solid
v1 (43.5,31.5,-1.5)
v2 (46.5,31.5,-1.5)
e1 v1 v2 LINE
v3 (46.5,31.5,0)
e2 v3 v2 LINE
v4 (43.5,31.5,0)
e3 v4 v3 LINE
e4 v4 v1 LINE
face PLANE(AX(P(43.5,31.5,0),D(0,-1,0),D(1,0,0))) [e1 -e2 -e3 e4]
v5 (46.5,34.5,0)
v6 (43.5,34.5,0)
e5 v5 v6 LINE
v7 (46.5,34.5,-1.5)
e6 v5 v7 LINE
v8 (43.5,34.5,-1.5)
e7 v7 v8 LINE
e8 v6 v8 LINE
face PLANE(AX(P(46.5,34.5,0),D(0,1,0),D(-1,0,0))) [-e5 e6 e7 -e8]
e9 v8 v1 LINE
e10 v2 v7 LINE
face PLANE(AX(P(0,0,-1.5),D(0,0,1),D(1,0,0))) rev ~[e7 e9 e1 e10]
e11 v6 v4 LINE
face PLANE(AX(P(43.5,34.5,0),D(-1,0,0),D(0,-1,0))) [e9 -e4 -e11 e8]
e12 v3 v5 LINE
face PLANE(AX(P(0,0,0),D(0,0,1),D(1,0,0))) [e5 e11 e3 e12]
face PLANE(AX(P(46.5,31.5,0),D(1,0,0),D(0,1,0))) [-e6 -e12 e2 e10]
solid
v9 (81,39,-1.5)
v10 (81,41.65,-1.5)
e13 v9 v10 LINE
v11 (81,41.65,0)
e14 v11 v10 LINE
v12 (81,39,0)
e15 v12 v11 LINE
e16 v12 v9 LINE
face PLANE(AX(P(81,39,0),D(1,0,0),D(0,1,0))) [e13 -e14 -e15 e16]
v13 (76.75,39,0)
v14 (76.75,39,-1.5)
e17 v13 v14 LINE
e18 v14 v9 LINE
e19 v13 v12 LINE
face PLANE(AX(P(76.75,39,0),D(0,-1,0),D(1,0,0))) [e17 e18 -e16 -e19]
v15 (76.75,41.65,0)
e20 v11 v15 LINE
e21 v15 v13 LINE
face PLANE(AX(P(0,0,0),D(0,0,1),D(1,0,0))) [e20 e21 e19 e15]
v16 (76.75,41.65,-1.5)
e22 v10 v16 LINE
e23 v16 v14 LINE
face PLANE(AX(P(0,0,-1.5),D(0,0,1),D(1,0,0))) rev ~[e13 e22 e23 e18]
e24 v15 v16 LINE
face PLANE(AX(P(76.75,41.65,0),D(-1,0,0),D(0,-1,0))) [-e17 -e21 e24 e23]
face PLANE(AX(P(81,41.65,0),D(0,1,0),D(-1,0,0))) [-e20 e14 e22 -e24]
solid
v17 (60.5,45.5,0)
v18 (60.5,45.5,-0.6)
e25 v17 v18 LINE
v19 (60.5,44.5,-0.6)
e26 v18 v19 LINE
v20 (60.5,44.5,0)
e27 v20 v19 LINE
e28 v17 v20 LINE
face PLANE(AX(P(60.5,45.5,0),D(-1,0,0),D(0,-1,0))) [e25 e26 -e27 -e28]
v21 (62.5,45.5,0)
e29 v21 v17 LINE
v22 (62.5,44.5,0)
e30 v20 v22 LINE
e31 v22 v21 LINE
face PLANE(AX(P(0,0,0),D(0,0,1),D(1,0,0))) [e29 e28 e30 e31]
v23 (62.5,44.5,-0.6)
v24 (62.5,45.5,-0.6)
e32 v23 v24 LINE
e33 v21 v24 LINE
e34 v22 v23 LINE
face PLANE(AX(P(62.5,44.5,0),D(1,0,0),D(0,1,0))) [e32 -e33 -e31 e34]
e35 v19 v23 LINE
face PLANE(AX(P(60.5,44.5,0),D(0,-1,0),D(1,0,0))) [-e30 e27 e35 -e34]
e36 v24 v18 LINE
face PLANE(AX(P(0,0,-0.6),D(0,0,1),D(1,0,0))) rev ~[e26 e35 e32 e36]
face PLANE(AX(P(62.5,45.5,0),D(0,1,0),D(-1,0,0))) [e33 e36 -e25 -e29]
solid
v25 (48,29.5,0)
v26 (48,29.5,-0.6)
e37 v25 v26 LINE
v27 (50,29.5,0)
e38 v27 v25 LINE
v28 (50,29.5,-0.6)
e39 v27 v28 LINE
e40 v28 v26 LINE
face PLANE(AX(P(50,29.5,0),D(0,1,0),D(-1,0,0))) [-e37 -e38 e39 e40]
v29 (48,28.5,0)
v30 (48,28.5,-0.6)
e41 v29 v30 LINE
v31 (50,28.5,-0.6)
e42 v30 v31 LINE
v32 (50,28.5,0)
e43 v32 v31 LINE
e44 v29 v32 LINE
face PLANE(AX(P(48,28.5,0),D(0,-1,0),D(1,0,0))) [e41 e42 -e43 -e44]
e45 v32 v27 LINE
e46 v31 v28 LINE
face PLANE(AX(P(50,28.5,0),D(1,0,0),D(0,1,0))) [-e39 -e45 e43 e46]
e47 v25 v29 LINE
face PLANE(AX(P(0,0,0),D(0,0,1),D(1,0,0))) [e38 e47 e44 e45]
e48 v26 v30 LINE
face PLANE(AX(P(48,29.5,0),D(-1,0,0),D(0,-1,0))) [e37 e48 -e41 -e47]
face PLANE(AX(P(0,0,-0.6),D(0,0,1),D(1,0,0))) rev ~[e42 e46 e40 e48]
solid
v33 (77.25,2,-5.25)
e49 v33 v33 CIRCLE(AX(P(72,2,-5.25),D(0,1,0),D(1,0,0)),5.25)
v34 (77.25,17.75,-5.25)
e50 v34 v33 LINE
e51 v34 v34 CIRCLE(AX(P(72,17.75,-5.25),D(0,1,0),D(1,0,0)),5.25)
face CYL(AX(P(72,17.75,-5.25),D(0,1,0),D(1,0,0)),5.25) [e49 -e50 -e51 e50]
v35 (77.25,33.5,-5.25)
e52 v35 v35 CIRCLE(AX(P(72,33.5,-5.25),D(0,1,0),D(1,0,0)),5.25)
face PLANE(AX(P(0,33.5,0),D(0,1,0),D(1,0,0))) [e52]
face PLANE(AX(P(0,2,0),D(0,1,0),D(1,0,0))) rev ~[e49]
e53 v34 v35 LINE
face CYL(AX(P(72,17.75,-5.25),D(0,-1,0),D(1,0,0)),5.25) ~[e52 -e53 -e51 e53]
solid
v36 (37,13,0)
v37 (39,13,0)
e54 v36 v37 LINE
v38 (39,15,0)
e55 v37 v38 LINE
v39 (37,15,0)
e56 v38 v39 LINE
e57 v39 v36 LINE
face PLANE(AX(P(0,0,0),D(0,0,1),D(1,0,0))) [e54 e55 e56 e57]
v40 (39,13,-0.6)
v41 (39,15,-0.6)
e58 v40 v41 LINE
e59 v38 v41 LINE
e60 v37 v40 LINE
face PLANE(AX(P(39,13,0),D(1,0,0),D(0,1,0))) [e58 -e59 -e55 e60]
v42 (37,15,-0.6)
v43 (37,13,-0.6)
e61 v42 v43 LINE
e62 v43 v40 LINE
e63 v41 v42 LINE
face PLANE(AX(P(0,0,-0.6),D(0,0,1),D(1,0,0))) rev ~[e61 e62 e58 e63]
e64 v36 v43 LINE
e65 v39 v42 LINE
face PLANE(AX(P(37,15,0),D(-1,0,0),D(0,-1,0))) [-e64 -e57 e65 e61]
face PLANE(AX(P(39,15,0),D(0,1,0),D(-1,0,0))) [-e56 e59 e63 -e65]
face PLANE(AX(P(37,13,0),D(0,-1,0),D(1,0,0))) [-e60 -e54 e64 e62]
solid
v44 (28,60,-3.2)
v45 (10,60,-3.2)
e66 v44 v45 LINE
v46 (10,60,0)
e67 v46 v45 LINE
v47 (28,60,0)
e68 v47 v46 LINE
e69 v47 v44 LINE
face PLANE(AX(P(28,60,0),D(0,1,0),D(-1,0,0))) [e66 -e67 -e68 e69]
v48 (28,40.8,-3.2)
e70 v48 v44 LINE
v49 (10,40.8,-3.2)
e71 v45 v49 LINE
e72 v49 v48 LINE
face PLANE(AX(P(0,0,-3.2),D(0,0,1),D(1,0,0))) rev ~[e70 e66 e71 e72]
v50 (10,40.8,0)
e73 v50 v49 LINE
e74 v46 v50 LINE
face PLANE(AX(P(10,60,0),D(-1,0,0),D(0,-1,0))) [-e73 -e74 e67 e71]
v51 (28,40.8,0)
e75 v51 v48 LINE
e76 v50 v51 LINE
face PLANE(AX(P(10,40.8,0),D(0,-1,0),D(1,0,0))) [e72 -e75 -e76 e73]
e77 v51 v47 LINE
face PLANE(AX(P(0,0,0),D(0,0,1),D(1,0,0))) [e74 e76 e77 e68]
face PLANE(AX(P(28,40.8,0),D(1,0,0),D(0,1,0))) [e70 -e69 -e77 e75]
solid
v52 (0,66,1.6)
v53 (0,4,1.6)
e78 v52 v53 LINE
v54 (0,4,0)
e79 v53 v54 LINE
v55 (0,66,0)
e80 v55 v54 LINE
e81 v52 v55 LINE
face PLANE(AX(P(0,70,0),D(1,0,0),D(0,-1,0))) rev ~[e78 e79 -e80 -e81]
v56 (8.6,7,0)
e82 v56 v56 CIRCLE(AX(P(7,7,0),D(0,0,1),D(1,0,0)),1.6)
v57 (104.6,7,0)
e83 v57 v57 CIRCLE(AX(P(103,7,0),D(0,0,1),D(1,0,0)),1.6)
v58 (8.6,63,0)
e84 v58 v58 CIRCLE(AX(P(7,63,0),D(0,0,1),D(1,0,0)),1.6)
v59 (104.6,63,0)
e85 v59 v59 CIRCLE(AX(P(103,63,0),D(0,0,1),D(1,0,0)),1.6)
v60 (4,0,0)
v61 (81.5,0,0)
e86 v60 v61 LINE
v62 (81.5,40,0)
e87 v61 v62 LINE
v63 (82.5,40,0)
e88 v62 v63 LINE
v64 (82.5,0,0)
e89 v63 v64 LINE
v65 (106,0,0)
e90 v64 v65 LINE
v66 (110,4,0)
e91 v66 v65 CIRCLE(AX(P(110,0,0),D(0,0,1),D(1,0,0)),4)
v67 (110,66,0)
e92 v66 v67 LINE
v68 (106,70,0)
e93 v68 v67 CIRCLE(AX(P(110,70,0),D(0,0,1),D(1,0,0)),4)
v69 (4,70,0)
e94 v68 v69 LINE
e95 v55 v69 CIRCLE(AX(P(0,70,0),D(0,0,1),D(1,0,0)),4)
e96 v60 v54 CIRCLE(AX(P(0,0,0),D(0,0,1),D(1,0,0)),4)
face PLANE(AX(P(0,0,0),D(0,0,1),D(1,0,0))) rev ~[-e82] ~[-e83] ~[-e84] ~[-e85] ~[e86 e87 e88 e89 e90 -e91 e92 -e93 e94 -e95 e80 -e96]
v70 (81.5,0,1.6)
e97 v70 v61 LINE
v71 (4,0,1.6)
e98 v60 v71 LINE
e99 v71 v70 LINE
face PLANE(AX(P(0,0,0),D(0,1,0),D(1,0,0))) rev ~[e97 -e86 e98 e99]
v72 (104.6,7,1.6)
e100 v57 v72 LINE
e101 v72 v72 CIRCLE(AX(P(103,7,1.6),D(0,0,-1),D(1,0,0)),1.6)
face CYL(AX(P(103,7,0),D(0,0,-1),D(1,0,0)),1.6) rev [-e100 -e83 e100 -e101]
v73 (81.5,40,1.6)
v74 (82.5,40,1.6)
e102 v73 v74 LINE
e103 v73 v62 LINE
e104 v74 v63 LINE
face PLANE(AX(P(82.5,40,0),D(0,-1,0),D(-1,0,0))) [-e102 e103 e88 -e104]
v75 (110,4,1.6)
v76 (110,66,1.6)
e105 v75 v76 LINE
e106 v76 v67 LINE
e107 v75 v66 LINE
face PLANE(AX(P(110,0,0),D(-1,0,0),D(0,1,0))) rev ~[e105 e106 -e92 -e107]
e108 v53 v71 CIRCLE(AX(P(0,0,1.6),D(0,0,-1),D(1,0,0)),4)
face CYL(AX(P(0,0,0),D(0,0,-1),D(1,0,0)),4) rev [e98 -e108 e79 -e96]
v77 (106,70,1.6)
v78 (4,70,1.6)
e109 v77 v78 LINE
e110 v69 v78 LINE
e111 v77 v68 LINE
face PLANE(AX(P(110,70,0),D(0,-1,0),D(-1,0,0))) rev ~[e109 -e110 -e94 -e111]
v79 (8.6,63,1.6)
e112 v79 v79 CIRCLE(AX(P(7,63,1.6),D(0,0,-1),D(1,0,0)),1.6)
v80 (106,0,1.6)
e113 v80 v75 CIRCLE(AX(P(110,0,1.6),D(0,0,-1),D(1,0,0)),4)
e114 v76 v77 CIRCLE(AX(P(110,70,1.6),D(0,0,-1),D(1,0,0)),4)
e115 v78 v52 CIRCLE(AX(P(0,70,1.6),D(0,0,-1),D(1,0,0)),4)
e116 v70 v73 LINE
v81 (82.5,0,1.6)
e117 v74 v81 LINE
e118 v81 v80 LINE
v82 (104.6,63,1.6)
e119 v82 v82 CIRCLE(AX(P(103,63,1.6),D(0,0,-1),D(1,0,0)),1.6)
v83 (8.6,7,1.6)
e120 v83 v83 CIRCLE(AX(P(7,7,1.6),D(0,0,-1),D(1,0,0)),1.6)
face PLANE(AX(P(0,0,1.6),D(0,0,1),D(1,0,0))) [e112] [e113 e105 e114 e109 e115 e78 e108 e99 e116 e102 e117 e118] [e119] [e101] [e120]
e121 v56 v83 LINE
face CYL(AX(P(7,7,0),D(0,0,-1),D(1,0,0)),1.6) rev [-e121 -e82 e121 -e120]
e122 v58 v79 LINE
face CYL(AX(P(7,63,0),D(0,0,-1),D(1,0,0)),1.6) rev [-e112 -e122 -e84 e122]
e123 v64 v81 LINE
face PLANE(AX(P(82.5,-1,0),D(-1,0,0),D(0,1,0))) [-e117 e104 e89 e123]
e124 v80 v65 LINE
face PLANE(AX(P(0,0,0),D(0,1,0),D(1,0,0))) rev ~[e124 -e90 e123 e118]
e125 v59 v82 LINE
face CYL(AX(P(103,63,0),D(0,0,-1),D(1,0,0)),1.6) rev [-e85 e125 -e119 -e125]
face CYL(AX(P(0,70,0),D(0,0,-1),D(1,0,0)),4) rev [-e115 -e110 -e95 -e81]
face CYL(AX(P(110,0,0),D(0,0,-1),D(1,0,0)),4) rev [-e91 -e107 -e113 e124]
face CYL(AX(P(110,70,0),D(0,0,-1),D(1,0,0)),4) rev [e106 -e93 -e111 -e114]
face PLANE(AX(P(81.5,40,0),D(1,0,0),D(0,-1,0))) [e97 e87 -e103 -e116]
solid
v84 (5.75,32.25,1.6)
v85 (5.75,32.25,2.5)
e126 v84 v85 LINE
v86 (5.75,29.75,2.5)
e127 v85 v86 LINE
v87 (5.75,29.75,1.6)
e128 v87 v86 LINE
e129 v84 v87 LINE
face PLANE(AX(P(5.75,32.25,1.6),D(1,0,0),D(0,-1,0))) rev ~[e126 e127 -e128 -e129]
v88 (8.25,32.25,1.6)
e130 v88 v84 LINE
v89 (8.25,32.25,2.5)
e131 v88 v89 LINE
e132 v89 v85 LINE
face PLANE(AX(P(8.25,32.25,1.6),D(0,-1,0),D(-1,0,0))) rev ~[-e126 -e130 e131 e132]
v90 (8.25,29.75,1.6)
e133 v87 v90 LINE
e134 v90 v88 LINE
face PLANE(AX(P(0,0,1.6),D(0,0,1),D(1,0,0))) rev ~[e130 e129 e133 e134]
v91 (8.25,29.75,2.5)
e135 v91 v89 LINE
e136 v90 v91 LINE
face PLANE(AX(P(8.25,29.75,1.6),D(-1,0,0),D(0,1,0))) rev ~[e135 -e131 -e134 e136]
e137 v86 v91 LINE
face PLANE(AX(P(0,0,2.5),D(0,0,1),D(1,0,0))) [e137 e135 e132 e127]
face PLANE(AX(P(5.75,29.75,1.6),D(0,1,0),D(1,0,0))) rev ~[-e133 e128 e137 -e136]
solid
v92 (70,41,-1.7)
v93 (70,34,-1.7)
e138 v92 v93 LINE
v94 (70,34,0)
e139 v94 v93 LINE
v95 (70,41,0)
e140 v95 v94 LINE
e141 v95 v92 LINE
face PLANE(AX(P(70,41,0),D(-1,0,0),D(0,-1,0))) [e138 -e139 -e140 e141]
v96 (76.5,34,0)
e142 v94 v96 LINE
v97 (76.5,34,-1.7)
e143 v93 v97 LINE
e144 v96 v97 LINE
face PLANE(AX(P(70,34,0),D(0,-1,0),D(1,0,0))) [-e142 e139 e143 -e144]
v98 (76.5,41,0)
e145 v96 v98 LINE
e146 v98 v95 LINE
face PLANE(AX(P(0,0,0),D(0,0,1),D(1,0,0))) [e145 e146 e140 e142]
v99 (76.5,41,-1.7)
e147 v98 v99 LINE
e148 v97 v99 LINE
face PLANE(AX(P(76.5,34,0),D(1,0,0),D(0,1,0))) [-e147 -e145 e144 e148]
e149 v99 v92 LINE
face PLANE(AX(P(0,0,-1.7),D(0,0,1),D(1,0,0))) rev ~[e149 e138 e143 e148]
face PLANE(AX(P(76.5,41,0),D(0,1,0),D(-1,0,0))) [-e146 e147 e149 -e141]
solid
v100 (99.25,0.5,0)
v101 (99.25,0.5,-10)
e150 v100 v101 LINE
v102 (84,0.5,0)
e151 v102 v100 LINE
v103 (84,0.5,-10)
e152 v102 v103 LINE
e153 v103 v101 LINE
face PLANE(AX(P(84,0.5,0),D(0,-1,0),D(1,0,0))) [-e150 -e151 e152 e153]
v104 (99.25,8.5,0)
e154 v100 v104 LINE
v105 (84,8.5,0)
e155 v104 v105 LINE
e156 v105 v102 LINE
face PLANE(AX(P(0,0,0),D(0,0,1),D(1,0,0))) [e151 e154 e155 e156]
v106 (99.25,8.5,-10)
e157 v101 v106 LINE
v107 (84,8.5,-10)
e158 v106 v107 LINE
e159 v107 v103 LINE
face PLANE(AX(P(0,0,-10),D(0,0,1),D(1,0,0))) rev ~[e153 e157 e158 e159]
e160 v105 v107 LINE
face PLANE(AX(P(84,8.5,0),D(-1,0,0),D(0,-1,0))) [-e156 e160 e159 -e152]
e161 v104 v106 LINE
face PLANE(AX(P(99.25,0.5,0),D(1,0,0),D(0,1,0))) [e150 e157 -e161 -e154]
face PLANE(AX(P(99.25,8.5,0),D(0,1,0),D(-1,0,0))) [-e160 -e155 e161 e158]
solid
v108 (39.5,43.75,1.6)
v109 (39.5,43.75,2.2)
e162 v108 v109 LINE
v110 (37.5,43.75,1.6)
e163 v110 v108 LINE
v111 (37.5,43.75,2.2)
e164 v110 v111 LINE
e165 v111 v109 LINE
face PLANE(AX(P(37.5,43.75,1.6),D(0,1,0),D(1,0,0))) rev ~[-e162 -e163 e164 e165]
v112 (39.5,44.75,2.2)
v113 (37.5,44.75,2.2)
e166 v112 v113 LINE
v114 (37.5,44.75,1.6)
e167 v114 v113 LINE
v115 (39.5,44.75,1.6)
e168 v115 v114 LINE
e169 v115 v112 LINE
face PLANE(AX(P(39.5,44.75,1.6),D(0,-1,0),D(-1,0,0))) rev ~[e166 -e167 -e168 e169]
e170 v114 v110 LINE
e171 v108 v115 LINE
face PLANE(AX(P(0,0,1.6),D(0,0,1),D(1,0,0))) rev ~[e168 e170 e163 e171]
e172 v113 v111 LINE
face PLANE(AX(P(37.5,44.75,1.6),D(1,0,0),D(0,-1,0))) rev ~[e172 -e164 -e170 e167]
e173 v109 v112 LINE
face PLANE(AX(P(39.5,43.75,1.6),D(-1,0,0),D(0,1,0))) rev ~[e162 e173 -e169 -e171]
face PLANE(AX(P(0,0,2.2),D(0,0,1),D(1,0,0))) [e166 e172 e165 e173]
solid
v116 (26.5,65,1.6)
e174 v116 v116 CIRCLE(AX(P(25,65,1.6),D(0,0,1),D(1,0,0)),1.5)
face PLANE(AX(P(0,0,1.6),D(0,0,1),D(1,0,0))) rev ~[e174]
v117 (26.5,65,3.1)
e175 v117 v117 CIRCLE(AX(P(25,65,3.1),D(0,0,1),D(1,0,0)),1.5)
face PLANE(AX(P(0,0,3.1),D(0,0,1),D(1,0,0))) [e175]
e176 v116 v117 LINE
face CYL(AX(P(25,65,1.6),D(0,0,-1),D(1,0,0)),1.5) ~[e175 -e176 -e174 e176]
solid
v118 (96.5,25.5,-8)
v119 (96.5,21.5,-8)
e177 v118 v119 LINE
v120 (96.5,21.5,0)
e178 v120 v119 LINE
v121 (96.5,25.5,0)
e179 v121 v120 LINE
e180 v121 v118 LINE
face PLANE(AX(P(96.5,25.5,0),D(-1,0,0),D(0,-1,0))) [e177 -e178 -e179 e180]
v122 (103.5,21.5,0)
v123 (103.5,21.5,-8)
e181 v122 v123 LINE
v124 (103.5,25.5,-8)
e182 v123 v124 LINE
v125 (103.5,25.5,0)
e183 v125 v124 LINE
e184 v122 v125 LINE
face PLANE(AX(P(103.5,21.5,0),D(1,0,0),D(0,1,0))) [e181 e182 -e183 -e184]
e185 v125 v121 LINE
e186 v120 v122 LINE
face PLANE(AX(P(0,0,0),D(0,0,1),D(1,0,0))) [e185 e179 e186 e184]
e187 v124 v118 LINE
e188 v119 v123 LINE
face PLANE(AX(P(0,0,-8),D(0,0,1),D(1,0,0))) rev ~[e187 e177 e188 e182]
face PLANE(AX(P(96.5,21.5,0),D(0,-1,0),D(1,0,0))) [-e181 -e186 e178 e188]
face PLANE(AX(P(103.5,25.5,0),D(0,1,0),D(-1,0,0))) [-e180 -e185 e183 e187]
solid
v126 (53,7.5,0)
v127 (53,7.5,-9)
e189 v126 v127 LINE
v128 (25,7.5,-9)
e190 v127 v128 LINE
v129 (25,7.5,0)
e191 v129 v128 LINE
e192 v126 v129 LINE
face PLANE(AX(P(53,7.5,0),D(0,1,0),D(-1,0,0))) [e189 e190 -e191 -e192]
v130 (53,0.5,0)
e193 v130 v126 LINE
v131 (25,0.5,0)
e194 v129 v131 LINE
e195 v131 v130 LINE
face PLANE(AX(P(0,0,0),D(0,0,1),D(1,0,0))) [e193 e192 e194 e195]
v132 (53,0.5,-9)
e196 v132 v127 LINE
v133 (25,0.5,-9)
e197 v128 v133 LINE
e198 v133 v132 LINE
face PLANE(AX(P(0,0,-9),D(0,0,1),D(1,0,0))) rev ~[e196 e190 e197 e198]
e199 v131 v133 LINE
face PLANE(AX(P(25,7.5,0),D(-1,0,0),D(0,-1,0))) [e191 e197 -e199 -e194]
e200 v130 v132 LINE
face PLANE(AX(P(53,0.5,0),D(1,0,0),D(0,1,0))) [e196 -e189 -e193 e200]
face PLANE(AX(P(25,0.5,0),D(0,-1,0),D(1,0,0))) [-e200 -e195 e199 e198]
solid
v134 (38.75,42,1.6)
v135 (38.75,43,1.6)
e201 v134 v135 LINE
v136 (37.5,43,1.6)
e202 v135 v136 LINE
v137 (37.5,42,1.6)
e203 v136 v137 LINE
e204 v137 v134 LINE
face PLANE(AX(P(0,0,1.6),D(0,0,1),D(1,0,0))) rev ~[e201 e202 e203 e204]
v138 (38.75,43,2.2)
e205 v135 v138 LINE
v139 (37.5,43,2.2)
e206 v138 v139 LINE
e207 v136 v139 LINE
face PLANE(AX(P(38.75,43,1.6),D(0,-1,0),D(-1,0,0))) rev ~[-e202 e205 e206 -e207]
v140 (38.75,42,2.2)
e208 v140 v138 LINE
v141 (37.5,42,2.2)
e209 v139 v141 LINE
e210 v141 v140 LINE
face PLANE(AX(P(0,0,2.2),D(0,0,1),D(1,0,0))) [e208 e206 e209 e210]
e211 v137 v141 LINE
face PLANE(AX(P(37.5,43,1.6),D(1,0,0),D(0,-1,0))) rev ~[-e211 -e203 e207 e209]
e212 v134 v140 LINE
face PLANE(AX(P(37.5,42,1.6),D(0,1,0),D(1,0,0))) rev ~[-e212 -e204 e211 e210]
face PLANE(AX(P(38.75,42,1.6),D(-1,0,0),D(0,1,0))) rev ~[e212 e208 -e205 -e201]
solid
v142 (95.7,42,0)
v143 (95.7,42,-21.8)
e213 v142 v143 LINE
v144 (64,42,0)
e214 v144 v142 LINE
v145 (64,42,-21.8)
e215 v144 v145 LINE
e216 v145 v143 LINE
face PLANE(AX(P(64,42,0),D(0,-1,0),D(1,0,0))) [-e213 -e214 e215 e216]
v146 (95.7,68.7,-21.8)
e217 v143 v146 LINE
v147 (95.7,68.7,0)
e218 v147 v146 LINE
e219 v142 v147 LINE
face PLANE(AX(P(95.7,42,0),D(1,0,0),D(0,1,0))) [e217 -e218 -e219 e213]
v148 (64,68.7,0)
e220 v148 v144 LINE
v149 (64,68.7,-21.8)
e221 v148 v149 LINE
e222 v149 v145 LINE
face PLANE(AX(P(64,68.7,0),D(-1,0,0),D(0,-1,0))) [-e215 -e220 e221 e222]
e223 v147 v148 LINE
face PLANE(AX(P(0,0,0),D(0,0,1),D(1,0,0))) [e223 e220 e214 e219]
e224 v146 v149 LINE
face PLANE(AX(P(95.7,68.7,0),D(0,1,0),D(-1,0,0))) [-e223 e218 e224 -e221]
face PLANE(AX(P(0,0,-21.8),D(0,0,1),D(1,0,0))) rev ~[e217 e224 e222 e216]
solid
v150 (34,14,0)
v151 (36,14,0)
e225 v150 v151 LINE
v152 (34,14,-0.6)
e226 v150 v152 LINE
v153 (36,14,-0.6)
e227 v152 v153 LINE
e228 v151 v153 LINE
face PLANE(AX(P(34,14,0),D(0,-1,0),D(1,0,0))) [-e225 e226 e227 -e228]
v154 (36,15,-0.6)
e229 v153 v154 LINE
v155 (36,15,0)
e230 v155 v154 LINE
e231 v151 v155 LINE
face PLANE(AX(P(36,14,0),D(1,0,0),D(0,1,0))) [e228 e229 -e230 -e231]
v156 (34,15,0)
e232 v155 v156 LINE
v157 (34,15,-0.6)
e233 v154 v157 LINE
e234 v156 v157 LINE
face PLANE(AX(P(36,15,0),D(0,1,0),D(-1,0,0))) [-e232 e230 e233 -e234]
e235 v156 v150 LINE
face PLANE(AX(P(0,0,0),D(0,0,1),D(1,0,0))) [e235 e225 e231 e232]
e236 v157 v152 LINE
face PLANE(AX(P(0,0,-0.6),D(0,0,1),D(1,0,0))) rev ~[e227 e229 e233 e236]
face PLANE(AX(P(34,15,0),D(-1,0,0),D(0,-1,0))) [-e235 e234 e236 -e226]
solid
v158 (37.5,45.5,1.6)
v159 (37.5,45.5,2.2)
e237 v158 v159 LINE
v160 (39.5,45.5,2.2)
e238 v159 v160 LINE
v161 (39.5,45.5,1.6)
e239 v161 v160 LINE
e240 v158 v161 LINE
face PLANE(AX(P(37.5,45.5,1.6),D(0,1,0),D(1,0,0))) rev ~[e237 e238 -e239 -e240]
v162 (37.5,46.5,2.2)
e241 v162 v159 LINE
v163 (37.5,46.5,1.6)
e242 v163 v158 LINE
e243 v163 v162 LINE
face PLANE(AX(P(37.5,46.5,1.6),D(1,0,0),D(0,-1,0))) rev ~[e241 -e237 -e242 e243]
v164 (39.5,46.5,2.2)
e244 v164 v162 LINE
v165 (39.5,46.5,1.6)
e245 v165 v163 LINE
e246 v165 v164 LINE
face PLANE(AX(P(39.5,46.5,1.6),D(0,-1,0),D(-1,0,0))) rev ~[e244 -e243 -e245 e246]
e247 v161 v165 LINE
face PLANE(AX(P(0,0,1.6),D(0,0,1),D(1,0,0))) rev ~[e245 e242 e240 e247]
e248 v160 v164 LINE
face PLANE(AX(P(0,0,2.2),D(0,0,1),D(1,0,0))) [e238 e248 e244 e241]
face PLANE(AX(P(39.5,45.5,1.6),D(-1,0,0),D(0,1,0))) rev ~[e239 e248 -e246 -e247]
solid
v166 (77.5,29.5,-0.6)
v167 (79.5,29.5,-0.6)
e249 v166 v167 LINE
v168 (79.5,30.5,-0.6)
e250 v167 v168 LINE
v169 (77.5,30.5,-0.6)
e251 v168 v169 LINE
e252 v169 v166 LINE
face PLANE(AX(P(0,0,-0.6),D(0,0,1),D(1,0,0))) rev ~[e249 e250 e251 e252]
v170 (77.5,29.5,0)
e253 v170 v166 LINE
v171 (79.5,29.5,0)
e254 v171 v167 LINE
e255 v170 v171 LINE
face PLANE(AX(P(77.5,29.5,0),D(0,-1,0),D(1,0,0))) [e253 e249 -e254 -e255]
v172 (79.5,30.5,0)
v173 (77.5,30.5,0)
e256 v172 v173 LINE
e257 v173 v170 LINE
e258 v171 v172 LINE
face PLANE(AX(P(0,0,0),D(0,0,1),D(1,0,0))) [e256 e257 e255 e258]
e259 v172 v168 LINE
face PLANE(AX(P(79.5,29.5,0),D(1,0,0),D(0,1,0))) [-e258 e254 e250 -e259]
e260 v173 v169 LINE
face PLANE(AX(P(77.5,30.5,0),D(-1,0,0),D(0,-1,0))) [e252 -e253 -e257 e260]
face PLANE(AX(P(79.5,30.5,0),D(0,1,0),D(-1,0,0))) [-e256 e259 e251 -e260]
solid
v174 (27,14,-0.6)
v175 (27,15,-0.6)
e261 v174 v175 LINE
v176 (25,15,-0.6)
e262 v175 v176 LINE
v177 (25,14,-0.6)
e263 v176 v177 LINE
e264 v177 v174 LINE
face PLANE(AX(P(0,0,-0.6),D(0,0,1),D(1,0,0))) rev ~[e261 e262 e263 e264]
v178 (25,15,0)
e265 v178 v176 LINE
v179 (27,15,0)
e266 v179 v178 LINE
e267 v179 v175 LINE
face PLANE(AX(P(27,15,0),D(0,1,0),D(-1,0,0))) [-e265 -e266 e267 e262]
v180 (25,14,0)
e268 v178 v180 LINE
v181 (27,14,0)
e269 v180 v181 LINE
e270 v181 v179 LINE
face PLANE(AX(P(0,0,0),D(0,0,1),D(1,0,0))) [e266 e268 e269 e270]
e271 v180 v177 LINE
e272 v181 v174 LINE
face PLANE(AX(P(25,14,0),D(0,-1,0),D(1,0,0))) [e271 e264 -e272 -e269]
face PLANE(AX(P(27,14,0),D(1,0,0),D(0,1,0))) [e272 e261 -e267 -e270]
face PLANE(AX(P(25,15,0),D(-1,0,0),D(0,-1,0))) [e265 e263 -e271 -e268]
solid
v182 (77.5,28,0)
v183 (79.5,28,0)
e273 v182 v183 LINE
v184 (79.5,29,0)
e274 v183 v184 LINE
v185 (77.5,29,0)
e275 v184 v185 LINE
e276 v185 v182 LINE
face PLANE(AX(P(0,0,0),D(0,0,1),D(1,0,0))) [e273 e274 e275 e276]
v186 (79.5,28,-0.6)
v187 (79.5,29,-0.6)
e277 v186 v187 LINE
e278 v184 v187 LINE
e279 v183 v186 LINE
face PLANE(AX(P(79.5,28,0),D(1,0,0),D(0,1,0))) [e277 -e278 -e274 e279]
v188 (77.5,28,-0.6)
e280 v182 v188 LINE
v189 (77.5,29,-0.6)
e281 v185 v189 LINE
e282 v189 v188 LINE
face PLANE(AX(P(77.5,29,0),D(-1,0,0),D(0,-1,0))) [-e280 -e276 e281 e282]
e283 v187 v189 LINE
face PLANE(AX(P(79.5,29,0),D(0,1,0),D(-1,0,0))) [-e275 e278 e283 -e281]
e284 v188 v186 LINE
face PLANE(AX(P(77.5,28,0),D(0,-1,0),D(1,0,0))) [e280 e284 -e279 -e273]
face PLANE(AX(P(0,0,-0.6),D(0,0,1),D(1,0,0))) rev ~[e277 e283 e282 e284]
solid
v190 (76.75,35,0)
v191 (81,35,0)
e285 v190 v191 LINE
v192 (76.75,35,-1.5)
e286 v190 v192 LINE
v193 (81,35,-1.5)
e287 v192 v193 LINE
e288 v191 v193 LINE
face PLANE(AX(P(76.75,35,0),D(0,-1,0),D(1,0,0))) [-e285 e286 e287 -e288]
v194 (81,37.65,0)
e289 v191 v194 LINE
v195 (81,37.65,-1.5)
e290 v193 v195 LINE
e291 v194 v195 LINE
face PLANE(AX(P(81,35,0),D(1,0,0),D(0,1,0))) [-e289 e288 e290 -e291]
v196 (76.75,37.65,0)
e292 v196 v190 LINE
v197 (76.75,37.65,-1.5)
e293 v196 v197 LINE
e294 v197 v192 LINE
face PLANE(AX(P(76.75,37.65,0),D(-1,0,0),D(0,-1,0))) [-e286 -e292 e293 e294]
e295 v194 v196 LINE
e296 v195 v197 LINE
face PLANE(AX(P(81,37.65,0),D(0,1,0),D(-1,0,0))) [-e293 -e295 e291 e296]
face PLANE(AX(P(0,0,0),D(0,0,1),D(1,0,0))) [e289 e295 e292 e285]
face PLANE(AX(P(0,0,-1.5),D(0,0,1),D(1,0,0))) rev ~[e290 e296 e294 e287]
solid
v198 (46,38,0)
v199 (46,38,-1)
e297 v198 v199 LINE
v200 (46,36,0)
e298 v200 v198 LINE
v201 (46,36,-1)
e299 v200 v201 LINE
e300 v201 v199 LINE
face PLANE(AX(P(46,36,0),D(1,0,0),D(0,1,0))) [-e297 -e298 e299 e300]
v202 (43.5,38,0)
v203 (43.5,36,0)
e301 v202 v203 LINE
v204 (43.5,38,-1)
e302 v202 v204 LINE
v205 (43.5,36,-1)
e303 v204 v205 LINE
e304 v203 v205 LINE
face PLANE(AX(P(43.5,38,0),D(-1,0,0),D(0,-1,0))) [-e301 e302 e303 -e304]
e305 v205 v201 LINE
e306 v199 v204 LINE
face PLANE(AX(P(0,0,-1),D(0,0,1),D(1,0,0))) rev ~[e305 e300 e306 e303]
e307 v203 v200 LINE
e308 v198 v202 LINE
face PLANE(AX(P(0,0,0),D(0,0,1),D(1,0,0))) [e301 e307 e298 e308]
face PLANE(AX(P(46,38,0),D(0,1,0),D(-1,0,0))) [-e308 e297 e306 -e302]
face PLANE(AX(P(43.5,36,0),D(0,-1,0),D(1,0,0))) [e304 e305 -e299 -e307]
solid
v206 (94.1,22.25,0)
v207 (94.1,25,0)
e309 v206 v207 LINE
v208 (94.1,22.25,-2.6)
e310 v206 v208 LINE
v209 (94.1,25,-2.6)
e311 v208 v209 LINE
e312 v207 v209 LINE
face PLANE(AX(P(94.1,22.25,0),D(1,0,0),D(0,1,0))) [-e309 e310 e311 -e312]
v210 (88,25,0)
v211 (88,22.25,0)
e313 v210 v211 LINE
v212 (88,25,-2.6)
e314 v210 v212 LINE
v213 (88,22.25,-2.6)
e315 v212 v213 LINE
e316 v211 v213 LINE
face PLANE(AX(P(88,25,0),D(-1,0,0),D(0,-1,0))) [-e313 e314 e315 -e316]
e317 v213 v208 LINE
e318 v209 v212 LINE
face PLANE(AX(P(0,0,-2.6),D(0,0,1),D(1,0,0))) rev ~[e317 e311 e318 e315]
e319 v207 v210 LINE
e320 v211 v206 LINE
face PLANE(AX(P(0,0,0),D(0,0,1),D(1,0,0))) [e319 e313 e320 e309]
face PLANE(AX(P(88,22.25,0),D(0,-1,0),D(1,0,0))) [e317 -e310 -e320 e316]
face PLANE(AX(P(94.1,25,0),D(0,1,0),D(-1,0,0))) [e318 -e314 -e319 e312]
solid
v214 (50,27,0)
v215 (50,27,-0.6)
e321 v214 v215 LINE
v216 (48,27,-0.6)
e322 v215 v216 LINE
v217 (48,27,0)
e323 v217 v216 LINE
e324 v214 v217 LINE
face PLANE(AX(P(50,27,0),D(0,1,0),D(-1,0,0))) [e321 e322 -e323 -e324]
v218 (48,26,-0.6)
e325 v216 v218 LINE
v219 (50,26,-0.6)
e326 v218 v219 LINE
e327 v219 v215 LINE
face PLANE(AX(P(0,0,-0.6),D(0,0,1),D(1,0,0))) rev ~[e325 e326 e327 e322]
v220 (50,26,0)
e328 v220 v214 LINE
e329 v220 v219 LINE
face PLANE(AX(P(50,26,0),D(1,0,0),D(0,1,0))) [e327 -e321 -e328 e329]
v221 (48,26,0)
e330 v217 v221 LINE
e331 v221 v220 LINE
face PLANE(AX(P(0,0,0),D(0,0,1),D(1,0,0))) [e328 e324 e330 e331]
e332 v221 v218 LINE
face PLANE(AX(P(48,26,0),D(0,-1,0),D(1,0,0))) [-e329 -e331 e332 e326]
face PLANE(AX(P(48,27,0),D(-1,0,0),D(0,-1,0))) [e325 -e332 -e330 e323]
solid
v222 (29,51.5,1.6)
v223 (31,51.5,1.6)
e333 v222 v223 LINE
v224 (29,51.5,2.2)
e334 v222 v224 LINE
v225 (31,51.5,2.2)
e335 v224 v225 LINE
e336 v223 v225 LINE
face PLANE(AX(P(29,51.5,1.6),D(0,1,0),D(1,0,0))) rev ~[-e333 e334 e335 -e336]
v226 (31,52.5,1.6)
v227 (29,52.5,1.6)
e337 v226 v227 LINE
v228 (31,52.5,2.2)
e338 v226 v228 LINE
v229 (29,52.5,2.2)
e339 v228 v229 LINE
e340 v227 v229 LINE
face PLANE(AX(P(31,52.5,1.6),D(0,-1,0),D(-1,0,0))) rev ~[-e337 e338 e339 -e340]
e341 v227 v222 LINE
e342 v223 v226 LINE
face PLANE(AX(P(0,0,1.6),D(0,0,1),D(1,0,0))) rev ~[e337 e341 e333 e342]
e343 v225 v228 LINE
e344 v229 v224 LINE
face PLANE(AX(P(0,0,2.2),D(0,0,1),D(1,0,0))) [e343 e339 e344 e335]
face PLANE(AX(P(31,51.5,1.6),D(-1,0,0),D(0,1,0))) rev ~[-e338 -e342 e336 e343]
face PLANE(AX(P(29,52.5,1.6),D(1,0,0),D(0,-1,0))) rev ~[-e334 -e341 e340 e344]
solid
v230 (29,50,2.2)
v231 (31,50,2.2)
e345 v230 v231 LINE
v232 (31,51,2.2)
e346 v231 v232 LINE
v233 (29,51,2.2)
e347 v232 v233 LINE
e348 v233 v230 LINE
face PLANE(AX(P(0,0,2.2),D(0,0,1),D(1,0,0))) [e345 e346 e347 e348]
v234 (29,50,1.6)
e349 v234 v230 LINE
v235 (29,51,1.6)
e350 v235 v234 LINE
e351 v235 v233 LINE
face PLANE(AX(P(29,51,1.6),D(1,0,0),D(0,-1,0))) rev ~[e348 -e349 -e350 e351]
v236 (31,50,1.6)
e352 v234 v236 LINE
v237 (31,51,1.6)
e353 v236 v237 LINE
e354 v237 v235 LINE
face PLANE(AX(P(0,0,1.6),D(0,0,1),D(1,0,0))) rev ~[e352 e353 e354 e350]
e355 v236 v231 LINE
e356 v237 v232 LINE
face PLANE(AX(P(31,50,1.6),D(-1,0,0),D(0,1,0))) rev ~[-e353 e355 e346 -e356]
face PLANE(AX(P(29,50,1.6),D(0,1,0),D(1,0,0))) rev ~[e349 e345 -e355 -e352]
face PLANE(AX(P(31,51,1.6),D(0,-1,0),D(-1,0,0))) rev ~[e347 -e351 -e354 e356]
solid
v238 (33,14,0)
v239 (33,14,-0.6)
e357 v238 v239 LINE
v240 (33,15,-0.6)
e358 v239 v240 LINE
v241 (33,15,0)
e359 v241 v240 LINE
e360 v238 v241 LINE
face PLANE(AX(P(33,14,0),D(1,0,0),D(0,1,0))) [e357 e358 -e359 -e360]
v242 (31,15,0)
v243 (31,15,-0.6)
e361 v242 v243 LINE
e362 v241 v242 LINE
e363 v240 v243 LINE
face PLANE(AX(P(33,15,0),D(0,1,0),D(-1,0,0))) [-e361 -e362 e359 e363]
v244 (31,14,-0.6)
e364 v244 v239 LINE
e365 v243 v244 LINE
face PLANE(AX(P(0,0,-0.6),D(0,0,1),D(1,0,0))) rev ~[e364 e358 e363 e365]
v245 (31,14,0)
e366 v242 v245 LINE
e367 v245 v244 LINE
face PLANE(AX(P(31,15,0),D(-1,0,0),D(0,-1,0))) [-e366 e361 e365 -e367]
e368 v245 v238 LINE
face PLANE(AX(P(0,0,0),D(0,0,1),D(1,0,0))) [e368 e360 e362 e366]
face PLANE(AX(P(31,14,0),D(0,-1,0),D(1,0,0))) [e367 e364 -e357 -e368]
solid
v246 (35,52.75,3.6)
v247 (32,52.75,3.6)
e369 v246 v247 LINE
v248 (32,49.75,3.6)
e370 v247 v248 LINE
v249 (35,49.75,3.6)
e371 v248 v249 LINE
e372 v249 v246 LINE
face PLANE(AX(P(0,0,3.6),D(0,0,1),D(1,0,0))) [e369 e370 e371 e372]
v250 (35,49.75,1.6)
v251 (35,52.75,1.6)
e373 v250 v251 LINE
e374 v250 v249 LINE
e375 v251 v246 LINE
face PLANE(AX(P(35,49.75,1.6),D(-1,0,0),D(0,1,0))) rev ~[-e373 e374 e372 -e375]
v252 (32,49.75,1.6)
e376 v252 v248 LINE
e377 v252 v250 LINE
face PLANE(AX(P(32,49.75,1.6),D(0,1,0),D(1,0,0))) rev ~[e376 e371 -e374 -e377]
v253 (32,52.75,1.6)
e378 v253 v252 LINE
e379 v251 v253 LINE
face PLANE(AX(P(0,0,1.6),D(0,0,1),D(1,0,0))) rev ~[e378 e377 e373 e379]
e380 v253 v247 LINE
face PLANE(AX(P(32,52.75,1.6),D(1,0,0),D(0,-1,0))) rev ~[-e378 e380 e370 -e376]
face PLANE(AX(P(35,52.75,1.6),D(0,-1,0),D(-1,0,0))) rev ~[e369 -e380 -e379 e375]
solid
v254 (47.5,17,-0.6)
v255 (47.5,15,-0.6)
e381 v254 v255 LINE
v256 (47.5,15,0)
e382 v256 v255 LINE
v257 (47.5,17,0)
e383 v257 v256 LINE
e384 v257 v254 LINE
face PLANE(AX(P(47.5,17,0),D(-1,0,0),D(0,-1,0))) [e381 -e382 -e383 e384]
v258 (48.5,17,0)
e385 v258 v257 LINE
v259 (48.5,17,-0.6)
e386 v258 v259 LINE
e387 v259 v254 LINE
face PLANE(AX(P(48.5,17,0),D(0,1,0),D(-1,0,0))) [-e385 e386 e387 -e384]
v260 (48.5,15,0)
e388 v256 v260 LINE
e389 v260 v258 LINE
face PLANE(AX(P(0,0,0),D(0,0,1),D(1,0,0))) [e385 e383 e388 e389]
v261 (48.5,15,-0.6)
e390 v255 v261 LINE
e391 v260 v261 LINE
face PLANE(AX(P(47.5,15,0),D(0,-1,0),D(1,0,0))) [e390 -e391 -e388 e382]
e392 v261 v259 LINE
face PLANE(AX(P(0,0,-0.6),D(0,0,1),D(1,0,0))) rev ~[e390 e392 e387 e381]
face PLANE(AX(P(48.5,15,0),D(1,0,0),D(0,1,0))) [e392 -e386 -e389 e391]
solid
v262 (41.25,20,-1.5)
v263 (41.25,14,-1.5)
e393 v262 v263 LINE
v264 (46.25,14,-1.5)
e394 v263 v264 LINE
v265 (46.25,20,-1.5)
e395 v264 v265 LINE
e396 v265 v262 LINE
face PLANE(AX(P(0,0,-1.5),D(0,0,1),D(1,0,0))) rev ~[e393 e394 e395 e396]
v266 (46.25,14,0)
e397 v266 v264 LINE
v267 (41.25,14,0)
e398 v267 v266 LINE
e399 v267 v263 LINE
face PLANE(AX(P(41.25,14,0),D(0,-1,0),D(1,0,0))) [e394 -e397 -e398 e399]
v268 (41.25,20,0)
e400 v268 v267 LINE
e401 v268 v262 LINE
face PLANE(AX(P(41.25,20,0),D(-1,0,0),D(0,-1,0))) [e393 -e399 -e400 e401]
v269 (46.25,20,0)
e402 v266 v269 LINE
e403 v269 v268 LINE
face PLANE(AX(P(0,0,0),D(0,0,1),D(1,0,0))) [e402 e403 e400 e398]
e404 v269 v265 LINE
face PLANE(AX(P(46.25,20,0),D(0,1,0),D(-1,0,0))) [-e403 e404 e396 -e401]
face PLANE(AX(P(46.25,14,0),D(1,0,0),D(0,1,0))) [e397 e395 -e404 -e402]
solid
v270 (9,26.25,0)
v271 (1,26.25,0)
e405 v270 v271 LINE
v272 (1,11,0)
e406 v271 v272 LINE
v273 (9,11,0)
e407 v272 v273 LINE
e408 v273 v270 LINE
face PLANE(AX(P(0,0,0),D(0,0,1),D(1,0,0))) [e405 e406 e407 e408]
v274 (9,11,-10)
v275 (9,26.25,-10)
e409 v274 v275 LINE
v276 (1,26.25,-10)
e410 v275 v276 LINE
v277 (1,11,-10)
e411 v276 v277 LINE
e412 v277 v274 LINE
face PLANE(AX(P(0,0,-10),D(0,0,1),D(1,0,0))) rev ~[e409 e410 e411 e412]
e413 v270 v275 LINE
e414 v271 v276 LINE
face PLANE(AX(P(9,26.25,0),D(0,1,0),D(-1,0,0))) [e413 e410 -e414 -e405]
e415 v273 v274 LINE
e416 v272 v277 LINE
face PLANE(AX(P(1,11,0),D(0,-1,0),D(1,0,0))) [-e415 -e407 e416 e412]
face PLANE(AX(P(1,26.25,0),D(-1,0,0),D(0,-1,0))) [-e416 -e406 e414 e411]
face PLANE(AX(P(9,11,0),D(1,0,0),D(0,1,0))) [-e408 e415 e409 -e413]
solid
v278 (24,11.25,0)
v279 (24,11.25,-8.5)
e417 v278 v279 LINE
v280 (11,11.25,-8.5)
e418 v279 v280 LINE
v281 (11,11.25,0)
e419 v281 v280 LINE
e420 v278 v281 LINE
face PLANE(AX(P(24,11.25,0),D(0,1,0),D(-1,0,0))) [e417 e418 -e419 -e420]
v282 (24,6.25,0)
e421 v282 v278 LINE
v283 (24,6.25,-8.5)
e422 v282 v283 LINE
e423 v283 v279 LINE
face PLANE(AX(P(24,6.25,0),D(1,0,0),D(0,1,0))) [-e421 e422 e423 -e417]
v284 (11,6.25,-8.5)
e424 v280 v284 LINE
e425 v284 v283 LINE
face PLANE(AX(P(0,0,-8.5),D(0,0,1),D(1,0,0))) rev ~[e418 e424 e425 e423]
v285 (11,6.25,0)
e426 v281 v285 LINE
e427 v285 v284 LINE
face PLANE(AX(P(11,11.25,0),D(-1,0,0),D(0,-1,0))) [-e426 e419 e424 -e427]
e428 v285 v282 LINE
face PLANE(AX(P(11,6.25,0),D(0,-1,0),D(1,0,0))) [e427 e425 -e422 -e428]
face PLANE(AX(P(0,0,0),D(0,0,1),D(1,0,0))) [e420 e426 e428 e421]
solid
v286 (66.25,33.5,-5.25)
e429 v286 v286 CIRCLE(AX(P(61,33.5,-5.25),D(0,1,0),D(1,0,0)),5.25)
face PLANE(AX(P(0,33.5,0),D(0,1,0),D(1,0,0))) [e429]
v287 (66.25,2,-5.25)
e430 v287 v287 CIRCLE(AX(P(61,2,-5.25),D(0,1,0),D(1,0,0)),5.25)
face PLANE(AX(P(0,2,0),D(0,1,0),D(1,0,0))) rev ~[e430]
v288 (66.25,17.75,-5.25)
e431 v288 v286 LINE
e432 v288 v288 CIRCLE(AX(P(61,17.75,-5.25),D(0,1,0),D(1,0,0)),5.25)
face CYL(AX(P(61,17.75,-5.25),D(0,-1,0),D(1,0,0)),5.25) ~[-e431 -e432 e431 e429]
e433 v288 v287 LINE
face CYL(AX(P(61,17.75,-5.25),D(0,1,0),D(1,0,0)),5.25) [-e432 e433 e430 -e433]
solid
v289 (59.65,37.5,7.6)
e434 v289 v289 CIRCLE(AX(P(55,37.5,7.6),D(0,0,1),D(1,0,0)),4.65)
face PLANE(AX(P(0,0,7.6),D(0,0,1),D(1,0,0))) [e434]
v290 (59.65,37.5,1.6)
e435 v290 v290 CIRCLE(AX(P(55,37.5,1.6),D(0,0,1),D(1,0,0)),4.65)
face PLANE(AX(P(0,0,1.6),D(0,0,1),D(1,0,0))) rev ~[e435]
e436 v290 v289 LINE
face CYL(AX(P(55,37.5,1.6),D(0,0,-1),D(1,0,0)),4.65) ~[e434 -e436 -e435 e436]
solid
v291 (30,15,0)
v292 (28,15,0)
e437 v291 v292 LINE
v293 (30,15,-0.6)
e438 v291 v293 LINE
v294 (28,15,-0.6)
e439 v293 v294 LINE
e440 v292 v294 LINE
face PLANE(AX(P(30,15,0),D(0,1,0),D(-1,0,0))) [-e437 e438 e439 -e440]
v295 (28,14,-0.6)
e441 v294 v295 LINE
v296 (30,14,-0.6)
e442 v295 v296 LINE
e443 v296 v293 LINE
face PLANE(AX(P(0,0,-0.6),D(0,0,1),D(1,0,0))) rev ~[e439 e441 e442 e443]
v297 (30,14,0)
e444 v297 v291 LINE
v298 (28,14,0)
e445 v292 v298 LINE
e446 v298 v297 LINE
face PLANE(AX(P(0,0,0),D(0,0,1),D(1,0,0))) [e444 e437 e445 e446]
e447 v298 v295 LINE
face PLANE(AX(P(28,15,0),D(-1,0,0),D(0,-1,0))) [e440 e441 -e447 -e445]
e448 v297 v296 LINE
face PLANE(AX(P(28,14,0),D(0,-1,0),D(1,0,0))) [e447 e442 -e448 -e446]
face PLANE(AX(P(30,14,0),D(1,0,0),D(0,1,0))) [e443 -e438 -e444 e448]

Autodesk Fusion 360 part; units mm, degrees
sketch "Çizim257" plane through (0, 0, 0) normal (0, 0, 1) x (1, 0, 0)
  line L0 (0, 0) -> (110, 0)
  line L1 (110, 0) -> (110, 70)
  line L2 (110, 70) -> (0, 70)
  line L3 (0, 70) -> (0, 0)
extrude "Ekstrüzyon257" add sketch "Çizim257" along normal blind 1.6 makes body 1
fillet "Kavis8" radius 2 4 edges at (0, 70, 0.8) (110, 70, 0.8) (110, 0, 0.8) (0, 0, 0.8) on bodies 1
sketch "Çizim258" plane through (0, 0, 0) normal (0, 0, 1) x (1, 0, 0)
  circle A0 centre (7, 7) radius 1.6
  circle A1 centre (103, 7) radius 1.6
  circle A2 centre (7, 63) radius 1.6
  circle A3 centre (103, 63) radius 1.6
  line L0 (81.5, -1) -> (82.5, -1)
  line L1 (82.5, -1) -> (82.5, 40)
  line L2 (82.5, 40) -> (81.5, 40)
  line L3 (81.5, 40) -> (81.5, -1)
  circle A4 centre (0, 0) radius 4
  circle A5 centre (110, 0) radius 4
  circle A6 centre (0, 70) radius 4
  circle A7 centre (110, 70) radius 4
extrude "Ekstrüzyon258" cut sketch "Çizim258" along normal mid plane 10 bodies 1
ref_plane "WorkPlane238" through (0, 0, 1.6) normal (0, 0, 1) x (1, 0, 0)
sketch "Çizim259" plane through (0, 0, 1.6) normal (0, 0, 1) x (1, 0, 0)
  circle A0 centre (55, 37.5) radius 4.65
extrude "Ekstrüzyon259" add sketch "Çizim259" along normal blind 6 separate body makes body 2
ref_plane "WorkPlane239" through (0, 0, 1.6) normal (0, 0, 1) x (1, 0, 0)
sketch "Çizim260" plane through (0, 0, 1.6) normal (0, 0, 1) x (1, 0, 0)
  line L0 (5.75, 29.75) -> (8.25, 29.75)
  line L1 (8.25, 29.75) -> (8.25, 32.25)
  line L2 (8.25, 32.25) -> (5.75, 32.25)
  line L3 (5.75, 32.25) -> (5.75, 29.75)
extrude "Ekstrüzyon260" add sketch "Çizim260" along normal blind 0.9 separate body makes body 3
ref_plane "WorkPlane240" through (0, 0, 1.6) normal (0, 0, 1) x (1, 0, 0)
sketch "Çizim261" plane through (0, 0, 1.6) normal (0, 0, 1) x (1, 0, 0)
  circle A0 centre (25, 65) radius 1.5
extrude "Ekstrüzyon261" add sketch "Çizim261" along normal blind 1.5 separate body makes body 4
ref_plane "WorkPlane241" through (0, 0, 1.6) normal (0, 0, 1) x (1, 0, 0)
sketch "Çizim262" plane through (0, 0, 1.6) normal (0, 0, 1) x (1, 0, 0)
  line L0 (37.5, 45.5) -> (39.5, 45.5)
  line L1 (39.5, 45.5) -> (39.5, 46.5)
  line L2 (39.5, 46.5) -> (37.5, 46.5)
  line L3 (37.5, 46.5) -> (37.5, 45.5)
extrude "Ekstrüzyon262" add sketch "Çizim262" along normal blind 0.6 separate body makes body 5
ref_plane "WorkPlane242" through (0, 0, 1.6) normal (0, 0, 1) x (1, 0, 0)
sketch "Çizim263" plane through (0, 0, 1.6) normal (0, 0, 1) x (1, 0, 0)
  line L0 (37.5, 43.75) -> (39.5, 43.75)
  line L1 (39.5, 43.75) -> (39.5, 44.75)
  line L2 (39.5, 44.75) -> (37.5, 44.75)
  line L3 (37.5, 44.75) -> (37.5, 43.75)
extrude "Ekstrüzyon263" add sketch "Çizim263" along normal blind 0.6 separate body makes body 6
ref_plane "WorkPlane243" through (0, 0, 1.6) normal (0, 0, 1) x (1, 0, 0)
sketch "Çizim264" plane through (0, 0, 1.6) normal (0, 0, 1) x (1, 0, 0)
  line L0 (37.5, 42) -> (38.75, 42)
  line L1 (38.75, 42) -> (38.75, 43)
  line L2 (38.75, 43) -> (37.5, 43)
  line L3 (37.5, 43) -> (37.5, 42)
extrude "Ekstrüzyon264" add sketch "Çizim264" along normal blind 0.6 separate body makes body 7
ref_plane "WorkPlane244" through (0, 0, 1.6) normal (0, 0, 1) x (1, 0, 0)
sketch "Çizim265" plane through (0, 0, 1.6) normal (0, 0, 1) x (1, 0, 0)
  line L0 (29, 51.5) -> (31, 51.5)
  line L1 (31, 51.5) -> (31, 52.5)
  line L2 (31, 52.5) -> (29, 52.5)
  line L3 (29, 52.5) -> (29, 51.5)
extrude "Ekstrüzyon265" add sketch "Çizim265" along normal blind 0.6 separate body makes body 8
ref_plane "WorkPlane245" through (0, 0, 1.6) normal (0, 0, 1) x (1, 0, 0)
sketch "Çizim266" plane through (0, 0, 1.6) normal (0, 0, 1) x (1, 0, 0)
  line L0 (29, 50) -> (31, 50)
  line L1 (31, 50) -> (31, 51)
  line L2 (31, 51) -> (29, 51)
  line L3 (29, 51) -> (29, 50)
extrude "Ekstrüzyon266" add sketch "Çizim266" along normal blind 0.6 separate body makes body 9
ref_plane "WorkPlane246" through (0, 0, 1.6) normal (0, 0, 1) x (1, 0, 0)
sketch "Çizim267" plane through (0, 0, 1.6) normal (0, 0, 1) x (1, 0, 0)
  line L0 (32, 49.75) -> (35, 49.75)
  line L1 (35, 49.75) -> (35, 52.75)
  line L2 (35, 52.75) -> (32, 52.75)
  line L3 (32, 52.75) -> (32, 49.75)
extrude "Ekstrüzyon267" add sketch "Çizim267" along normal blind 2 separate body makes body 10
ref_plane "WorkPlane247" through (0, 0, 0) normal (0, 0, 1) x (1, 0, 0)
sketch "Çizim268" plane through (0, 0, 0) normal (0, 0, 1) x (1, 0, 0)
  line L0 (10, 40.8) -> (28, 40.8)
  line L1 (28, 40.8) -> (28, 60)
  line L2 (28, 60) -> (10, 60)
  line L3 (10, 60) -> (10, 40.8)
extrude "Ekstrüzyon268" add sketch "Çizim268" against normal blind 3.2 separate body makes body 11
ref_plane "WorkPlane248" through (0, 0, 0) normal (0, 0, 1) x (1, 0, 0)
sketch "Çizim269" plane through (0, 0, 0) normal (0, 0, 1) x (1, 0, 0)
  line L0 (64, 42) -> (95.7, 42)
  line L1 (95.7, 42) -> (95.7, 68.7)
  line L2 (95.7, 68.7) -> (64, 68.7)
  line L3 (64, 68.7) -> (64, 42)
extrude "Ekstrüzyon269" add sketch "Çizim269" against normal blind 21.8 separate body makes body 12
ref_plane "WorkPlane249" through (0, 0, 0) normal (0, 0, 1) x (1, 0, 0)
sketch "Çizim270" plane through (0, 0, 0) normal (0, 0, 1) x (1, 0, 0)
  line L0 (88, 22.25) -> (94.1, 22.25)
  line L1 (94.1, 22.25) -> (94.1, 25)
  line L2 (94.1, 25) -> (88, 25)
  line L3 (88, 25) -> (88, 22.25)
extrude "Ekstrüzyon270" add sketch "Çizim270" against normal blind 2.6 separate body makes body 13
ref_plane "WorkPlane250" through (0, 0, 0) normal (0, 0, 1) x (1, 0, 0)
sketch "Çizim271" plane through (0, 0, 0) normal (0, 0, 1) x (1, 0, 0)
  line L0 (96.5, 21.5) -> (103.5, 21.5)
  line L1 (103.5, 21.5) -> (103.5, 25.5)
  line L2 (103.5, 25.5) -> (96.5, 25.5)
  line L3 (96.5, 25.5) -> (96.5, 21.5)
extrude "Ekstrüzyon271" add sketch "Çizim271" against normal blind 8 separate body makes body 14
ref_plane "WorkPlane251" through (0, 0, 0) normal (0, 0, 1) x (1, 0, 0)
sketch "Çizim272" plane through (0, 0, 0) normal (0, 0, 1) x (1, 0, 0)
  line L0 (84, 0.5) -> (99.25, 0.5)
  line L1 (99.25, 0.5) -> (99.25, 8.5)
  line L2 (99.25, 8.5) -> (84, 8.5)
  line L3 (84, 8.5) -> (84, 0.5)
extrude "Ekstrüzyon272" add sketch "Çizim272" against normal blind 10 separate body makes body 15
ref_plane "WorkPlane252" through (0, 0, 0) normal (0, 0, 1) x (1, 0, 0)
sketch "Çizim273" plane through (0, 0, 0) normal (0, 0, 1) x (1, 0, 0)
  line L0 (70, 34) -> (76.5, 34)
  line L1 (76.5, 34) -> (76.5, 41)
  line L2 (76.5, 41) -> (70, 41)
  line L3 (70, 41) -> (70, 34)
extrude "Ekstrüzyon273" add sketch "Çizim273" against normal blind 1.7 separate body makes body 16
ref_plane "WorkPlane253" through (0, 0, 0) normal (0, 0, 1) x (1, 0, 0)
sketch "Çizim274" plane through (0, 0, 0) normal (0, 0, 1) x (1, 0, 0)
  line L0 (76.75, 39) -> (81, 39)
  line L1 (81, 39) -> (81, 41.65)
  line L2 (81, 41.65) -> (76.75, 41.65)
  line L3 (76.75, 41.65) -> (76.75, 39)
extrude "Ekstrüzyon274" add sketch "Çizim274" against normal blind 1.5 separate body makes body 17
ref_plane "WorkPlane254" through (0, 0, 0) normal (0, 0, 1) x (1, 0, 0)
sketch "Çizim275" plane through (0, 0, 0) normal (0, 0, 1) x (1, 0, 0)
  line L0 (76.75, 35) -> (81, 35)
  line L1 (81, 35) -> (81, 37.65)
  line L2 (81, 37.65) -> (76.75, 37.65)
  line L3 (76.75, 37.65) -> (76.75, 35)
extrude "Ekstrüzyon275" add sketch "Çizim275" against normal blind 1.5 separate body makes body 18
ref_plane "WorkPlane255" through (0, 0, 0) normal (0, 0, 1) x (1, 0, 0)
sketch "Çizim276" plane through (0, 0, 0) normal (0, 0, 1) x (1, 0, 0)
  line L0 (60.5, 44.5) -> (62.5, 44.5)
  line L1 (62.5, 44.5) -> (62.5, 45.5)
  line L2 (62.5, 45.5) -> (60.5, 45.5)
  line L3 (60.5, 45.5) -> (60.5, 44.5)
extrude "Ekstrüzyon276" add sketch "Çizim276" against normal blind 0.6 separate body makes body 19
ref_plane "WorkPlane256" through (0, 0, 0) normal (0, 0, 1) x (1, 0, 0)
sketch "Çizim277" plane through (0, 0, 0) normal (0, 0, 1) x (1, 0, 0)
  line L0 (77.5, 29.5) -> (79.5, 29.5)
  line L1 (79.5, 29.5) -> (79.5, 30.5)
  line L2 (79.5, 30.5) -> (77.5, 30.5)
  line L3 (77.5, 30.5) -> (77.5, 29.5)
extrude "Ekstrüzyon277" add sketch "Çizim277" against normal blind 0.6 separate body makes body 20
ref_plane "WorkPlane257" through (0, 0, 0) normal (0, 0, 1) x (1, 0, 0)
sketch "Çizim278" plane through (0, 0, 0) normal (0, 0, 1) x (1, 0, 0)
  line L0 (77.5, 28) -> (79.5, 28)
  line L1 (79.5, 28) -> (79.5, 29)
  line L2 (79.5, 29) -> (77.5, 29)
  line L3 (77.5, 29) -> (77.5, 28)
extrude "Ekstrüzyon278" add sketch "Çizim278" against normal blind 0.6 separate body makes body 21
ref_plane "WorkPlane258" through (0, 0, 0) normal (0, 0, 1) x (1, 0, 0)
sketch "Çizim279" plane through (0, 0, 0) normal (0, 0, 1) x (1, 0, 0)
  line L0 (43.5, 36) -> (46, 36)
  line L1 (46, 36) -> (46, 38)
  line L2 (46, 38) -> (43.5, 38)
  line L3 (43.5, 38) -> (43.5, 36)
extrude "Ekstrüzyon279" add sketch "Çizim279" against normal blind 1 separate body makes body 22
ref_plane "WorkPlane259" through (0, 0, 0) normal (0, 0, 1) x (1, 0, 0)
sketch "Çizim280" plane through (0, 0, 0) normal (0, 0, 1) x (1, 0, 0)
  line L0 (43.5, 31.5) -> (46.5, 31.5)
  line L1 (46.5, 31.5) -> (46.5, 34.5)
  line L2 (46.5, 34.5) -> (43.5, 34.5)
  line L3 (43.5, 34.5) -> (43.5, 31.5)
extrude "Ekstrüzyon280" add sketch "Çizim280" against normal blind 1.5 separate body makes body 23
ref_plane "WorkPlane260" through (0, 0, 0) normal (0, 0, 1) x (1, 0, 0)
sketch "Çizim281" plane through (0, 0, 0) normal (0, 0, 1) x (1, 0, 0)
  line L0 (48, 26) -> (50, 26)
  line L1 (50, 26) -> (50, 27)
  line L2 (50, 27) -> (48, 27)
  line L3 (48, 27) -> (48, 26)
extrude "Ekstrüzyon281" add sketch "Çizim281" against normal blind 0.6 separate body makes body 24
ref_plane "WorkPlane261" through (0, 0, 0) normal (0, 0, 1) x (1, 0, 0)
sketch "Çizim282" plane through (0, 0, 0) normal (0, 0, 1) x (1, 0, 0)
  line L0 (48, 28.5) -> (50, 28.5)
  line L1 (50, 28.5) -> (50, 29.5)
  line L2 (50, 29.5) -> (48, 29.5)
  line L3 (48, 29.5) -> (48, 28.5)
extrude "Ekstrüzyon282" add sketch "Çizim282" against normal blind 0.6 separate body makes body 25
ref_plane "WorkPlane262" through (0, 17.75, 0) normal (0, 1, 0) x (0, 0, 1)
sketch "Çizim283" plane through (0, 17.75, 0) normal (0, 1, 0) x (1, 0, 0)
  circle A0 centre (61, 5.25) radius 5.25
extrude "Ekstrüzyon283" add sketch "Çizim283" along normal mid plane 31.5 separate body makes body 26
sketch "Çizim284" plane through (0, 17.75, 0) normal (0, 1, 0) x (1, 0, 0)
  circle A0 centre (72, 5.25) radius 5.25
extrude "Ekstrüzyon284" add sketch "Çizim284" along normal mid plane 31.5 separate body makes body 27
ref_plane "WorkPlane263" through (0, 0, 0) normal (0, 0, 1) x (1, 0, 0)
sketch "Çizim285" plane through (0, 0, 0) normal (0, 0, 1) x (1, 0, 0)
  line L0 (41.25, 14) -> (46.25, 14)
  line L1 (46.25, 14) -> (46.25, 20)
  line L2 (46.25, 20) -> (41.25, 20)
  line L3 (41.25, 20) -> (41.25, 14)
extrude "Ekstrüzyon285" add sketch "Çizim285" against normal blind 1.5 separate body makes body 28
ref_plane "WorkPlane264" through (0, 0, 0) normal (0, 0, 1) x (1, 0, 0)
sketch "Çizim286" plane through (0, 0, 0) normal (0, 0, 1) x (1, 0, 0)
  line L0 (47.5, 15) -> (48.5, 15)
  line L1 (48.5, 15) -> (48.5, 17)
  line L2 (48.5, 17) -> (47.5, 17)
  line L3 (47.5, 17) -> (47.5, 15)
extrude "Ekstrüzyon286" add sketch "Çizim286" against normal blind 0.6 separate body makes body 29
ref_plane "WorkPlane265" through (0, 0, 0) normal (0, 0, 1) x (1, 0, 0)
sketch "Çizim287" plane through (0, 0, 0) normal (0, 0, 1) x (1, 0, 0)
  line L0 (1, 11) -> (9, 11)
  line L1 (9, 11) -> (9, 26.25)
  line L2 (9, 26.25) -> (1, 26.25)
  line L3 (1, 26.25) -> (1, 11)
extrude "Ekstrüzyon287" add sketch "Çizim287" against normal blind 10 separate body makes body 30
ref_plane "WorkPlane266" through (0, 0, 0) normal (0, 0, 1) x (1, 0, 0)
sketch "Çizim288" plane through (0, 0, 0) normal (0, 0, 1) x (1, 0, 0)
  line L0 (25, 14) -> (27, 14)
  line L1 (27, 14) -> (27, 15)
  line L2 (27, 15) -> (25, 15)
  line L3 (25, 15) -> (25, 14)
extrude "Ekstrüzyon288" add sketch "Çizim288" against normal blind 0.6 separate body makes body 31
ref_plane "WorkPlane267" through (0, 0, 0) normal (0, 0, 1) x (1, 0, 0)
sketch "Çizim289" plane through (0, 0, 0) normal (0, 0, 1) x (1, 0, 0)
  line L0 (28, 14) -> (30, 14)
  line L1 (30, 14) -> (30, 15)
  line L2 (30, 15) -> (28, 15)
  line L3 (28, 15) -> (28, 14)
extrude "Ekstrüzyon289" add sketch "Çizim289" against normal blind 0.6 separate body makes body 32
ref_plane "WorkPlane268" through (0, 0, 0) normal (0, 0, 1) x (1, 0, 0)
sketch "Çizim290" plane through (0, 0, 0) normal (0, 0, 1) x (1, 0, 0)
  line L0 (31, 14) -> (33, 14)
  line L1 (33, 14) -> (33, 15)
  line L2 (33, 15) -> (31, 15)
  line L3 (31, 15) -> (31, 14)
extrude "Ekstrüzyon290" add sketch "Çizim290" against normal blind 0.6 separate body makes body 33
ref_plane "WorkPlane269" through (0, 0, 0) normal (0, 0, 1) x (1, 0, 0)
sketch "Çizim291" plane through (0, 0, 0) normal (0, 0, 1) x (1, 0, 0)
  line L0 (34, 14) -> (36, 14)
  line L1 (36, 14) -> (36, 15)
  line L2 (36, 15) -> (34, 15)
  line L3 (34, 15) -> (34, 14)
extrude "Ekstrüzyon291" add sketch "Çizim291" against normal blind 0.6 separate body makes body 34
ref_plane "WorkPlane270" through (0, 0, 0) normal (0, 0, 1) x (1, 0, 0)
sketch "Çizim292" plane through (0, 0, 0) normal (0, 0, 1) x (1, 0, 0)
  line L0 (37, 13) -> (39, 13)
  line L1 (39, 13) -> (39, 15)
  line L2 (39, 15) -> (37, 15)
  line L3 (37, 15) -> (37, 13)
extrude "Ekstrüzyon292" add sketch "Çizim292" against normal blind 0.6 separate body makes body 35
ref_plane "WorkPlane271" through (0, 0, 0) normal (0, 0, 1) x (1, 0, 0)
sketch "Çizim293" plane through (0, 0, 0) normal (0, 0, 1) x (1, 0, 0)
  line L0 (25, 0.5) -> (53, 0.5)
  line L1 (53, 0.5) -> (53, 7.5)
  line L2 (53, 7.5) -> (25, 7.5)
  line L3 (25, 7.5) -> (25, 0.5)
extrude "Ekstrüzyon293" add sketch "Çizim293" against normal blind 9 separate body makes body 36
ref_plane "WorkPlane272" through (0, 0, 0) normal (0, 0, 1) x (1, 0, 0)
sketch "Çizim294" plane through (0, 0, 0) normal (0, 0, 1) x (1, 0, 0)
  line L0 (11, 6.25) -> (24, 6.25)
  line L1 (24, 6.25) -> (24, 11.25)
  line L2 (24, 11.25) -> (11, 11.25)
  line L3 (11, 11.25) -> (11, 6.25)
extrude "Ekstrüzyon294" add sketch "Çizim294" against normal blind 8.5 separate body makes body 37
equation "d1045 = -( 3.2 mm )"
equation "d1049 = -( 21.8 mm )"
equation "d1053 = -( 2.6 mm )"
equation "d1057 = -( 8 mm )"
equation "d1061 = -( 10 mm )"
equation "d1065 = -( 1.7 mm )"
equation "d1069 = -( 1.5 mm )"
equation "d1073 = -( 1.5 mm )"
equation "d1077 = -( 0.6 mm )"
equation "d1081 = -( 0.6 mm )"
equation "d1085 = -( 0.6 mm )"
equation "d1089 = -( 1 mm )"
equation "d1093 = -( 1.5 mm )"
equation "d1097 = -( 0.6 mm )"
equation "d1101 = -( 0.6 mm )"
equation "d1111 = -( 1.5 mm )"
equation "d1115 = -( 0.6 mm )"
equation "d1119 = -( 10 mm )"
equation "d1123 = -( 0.6 mm )"
equation "d1127 = -( 0.6 mm )"
equation "d1131 = -( 0.6 mm )"
equation "d1135 = -( 0.6 mm )"
equation "d1139 = -( 0.6 mm )"
equation "d1143 = -( 9 mm )"
equation "d1147 = -( 8.5 mm )"
